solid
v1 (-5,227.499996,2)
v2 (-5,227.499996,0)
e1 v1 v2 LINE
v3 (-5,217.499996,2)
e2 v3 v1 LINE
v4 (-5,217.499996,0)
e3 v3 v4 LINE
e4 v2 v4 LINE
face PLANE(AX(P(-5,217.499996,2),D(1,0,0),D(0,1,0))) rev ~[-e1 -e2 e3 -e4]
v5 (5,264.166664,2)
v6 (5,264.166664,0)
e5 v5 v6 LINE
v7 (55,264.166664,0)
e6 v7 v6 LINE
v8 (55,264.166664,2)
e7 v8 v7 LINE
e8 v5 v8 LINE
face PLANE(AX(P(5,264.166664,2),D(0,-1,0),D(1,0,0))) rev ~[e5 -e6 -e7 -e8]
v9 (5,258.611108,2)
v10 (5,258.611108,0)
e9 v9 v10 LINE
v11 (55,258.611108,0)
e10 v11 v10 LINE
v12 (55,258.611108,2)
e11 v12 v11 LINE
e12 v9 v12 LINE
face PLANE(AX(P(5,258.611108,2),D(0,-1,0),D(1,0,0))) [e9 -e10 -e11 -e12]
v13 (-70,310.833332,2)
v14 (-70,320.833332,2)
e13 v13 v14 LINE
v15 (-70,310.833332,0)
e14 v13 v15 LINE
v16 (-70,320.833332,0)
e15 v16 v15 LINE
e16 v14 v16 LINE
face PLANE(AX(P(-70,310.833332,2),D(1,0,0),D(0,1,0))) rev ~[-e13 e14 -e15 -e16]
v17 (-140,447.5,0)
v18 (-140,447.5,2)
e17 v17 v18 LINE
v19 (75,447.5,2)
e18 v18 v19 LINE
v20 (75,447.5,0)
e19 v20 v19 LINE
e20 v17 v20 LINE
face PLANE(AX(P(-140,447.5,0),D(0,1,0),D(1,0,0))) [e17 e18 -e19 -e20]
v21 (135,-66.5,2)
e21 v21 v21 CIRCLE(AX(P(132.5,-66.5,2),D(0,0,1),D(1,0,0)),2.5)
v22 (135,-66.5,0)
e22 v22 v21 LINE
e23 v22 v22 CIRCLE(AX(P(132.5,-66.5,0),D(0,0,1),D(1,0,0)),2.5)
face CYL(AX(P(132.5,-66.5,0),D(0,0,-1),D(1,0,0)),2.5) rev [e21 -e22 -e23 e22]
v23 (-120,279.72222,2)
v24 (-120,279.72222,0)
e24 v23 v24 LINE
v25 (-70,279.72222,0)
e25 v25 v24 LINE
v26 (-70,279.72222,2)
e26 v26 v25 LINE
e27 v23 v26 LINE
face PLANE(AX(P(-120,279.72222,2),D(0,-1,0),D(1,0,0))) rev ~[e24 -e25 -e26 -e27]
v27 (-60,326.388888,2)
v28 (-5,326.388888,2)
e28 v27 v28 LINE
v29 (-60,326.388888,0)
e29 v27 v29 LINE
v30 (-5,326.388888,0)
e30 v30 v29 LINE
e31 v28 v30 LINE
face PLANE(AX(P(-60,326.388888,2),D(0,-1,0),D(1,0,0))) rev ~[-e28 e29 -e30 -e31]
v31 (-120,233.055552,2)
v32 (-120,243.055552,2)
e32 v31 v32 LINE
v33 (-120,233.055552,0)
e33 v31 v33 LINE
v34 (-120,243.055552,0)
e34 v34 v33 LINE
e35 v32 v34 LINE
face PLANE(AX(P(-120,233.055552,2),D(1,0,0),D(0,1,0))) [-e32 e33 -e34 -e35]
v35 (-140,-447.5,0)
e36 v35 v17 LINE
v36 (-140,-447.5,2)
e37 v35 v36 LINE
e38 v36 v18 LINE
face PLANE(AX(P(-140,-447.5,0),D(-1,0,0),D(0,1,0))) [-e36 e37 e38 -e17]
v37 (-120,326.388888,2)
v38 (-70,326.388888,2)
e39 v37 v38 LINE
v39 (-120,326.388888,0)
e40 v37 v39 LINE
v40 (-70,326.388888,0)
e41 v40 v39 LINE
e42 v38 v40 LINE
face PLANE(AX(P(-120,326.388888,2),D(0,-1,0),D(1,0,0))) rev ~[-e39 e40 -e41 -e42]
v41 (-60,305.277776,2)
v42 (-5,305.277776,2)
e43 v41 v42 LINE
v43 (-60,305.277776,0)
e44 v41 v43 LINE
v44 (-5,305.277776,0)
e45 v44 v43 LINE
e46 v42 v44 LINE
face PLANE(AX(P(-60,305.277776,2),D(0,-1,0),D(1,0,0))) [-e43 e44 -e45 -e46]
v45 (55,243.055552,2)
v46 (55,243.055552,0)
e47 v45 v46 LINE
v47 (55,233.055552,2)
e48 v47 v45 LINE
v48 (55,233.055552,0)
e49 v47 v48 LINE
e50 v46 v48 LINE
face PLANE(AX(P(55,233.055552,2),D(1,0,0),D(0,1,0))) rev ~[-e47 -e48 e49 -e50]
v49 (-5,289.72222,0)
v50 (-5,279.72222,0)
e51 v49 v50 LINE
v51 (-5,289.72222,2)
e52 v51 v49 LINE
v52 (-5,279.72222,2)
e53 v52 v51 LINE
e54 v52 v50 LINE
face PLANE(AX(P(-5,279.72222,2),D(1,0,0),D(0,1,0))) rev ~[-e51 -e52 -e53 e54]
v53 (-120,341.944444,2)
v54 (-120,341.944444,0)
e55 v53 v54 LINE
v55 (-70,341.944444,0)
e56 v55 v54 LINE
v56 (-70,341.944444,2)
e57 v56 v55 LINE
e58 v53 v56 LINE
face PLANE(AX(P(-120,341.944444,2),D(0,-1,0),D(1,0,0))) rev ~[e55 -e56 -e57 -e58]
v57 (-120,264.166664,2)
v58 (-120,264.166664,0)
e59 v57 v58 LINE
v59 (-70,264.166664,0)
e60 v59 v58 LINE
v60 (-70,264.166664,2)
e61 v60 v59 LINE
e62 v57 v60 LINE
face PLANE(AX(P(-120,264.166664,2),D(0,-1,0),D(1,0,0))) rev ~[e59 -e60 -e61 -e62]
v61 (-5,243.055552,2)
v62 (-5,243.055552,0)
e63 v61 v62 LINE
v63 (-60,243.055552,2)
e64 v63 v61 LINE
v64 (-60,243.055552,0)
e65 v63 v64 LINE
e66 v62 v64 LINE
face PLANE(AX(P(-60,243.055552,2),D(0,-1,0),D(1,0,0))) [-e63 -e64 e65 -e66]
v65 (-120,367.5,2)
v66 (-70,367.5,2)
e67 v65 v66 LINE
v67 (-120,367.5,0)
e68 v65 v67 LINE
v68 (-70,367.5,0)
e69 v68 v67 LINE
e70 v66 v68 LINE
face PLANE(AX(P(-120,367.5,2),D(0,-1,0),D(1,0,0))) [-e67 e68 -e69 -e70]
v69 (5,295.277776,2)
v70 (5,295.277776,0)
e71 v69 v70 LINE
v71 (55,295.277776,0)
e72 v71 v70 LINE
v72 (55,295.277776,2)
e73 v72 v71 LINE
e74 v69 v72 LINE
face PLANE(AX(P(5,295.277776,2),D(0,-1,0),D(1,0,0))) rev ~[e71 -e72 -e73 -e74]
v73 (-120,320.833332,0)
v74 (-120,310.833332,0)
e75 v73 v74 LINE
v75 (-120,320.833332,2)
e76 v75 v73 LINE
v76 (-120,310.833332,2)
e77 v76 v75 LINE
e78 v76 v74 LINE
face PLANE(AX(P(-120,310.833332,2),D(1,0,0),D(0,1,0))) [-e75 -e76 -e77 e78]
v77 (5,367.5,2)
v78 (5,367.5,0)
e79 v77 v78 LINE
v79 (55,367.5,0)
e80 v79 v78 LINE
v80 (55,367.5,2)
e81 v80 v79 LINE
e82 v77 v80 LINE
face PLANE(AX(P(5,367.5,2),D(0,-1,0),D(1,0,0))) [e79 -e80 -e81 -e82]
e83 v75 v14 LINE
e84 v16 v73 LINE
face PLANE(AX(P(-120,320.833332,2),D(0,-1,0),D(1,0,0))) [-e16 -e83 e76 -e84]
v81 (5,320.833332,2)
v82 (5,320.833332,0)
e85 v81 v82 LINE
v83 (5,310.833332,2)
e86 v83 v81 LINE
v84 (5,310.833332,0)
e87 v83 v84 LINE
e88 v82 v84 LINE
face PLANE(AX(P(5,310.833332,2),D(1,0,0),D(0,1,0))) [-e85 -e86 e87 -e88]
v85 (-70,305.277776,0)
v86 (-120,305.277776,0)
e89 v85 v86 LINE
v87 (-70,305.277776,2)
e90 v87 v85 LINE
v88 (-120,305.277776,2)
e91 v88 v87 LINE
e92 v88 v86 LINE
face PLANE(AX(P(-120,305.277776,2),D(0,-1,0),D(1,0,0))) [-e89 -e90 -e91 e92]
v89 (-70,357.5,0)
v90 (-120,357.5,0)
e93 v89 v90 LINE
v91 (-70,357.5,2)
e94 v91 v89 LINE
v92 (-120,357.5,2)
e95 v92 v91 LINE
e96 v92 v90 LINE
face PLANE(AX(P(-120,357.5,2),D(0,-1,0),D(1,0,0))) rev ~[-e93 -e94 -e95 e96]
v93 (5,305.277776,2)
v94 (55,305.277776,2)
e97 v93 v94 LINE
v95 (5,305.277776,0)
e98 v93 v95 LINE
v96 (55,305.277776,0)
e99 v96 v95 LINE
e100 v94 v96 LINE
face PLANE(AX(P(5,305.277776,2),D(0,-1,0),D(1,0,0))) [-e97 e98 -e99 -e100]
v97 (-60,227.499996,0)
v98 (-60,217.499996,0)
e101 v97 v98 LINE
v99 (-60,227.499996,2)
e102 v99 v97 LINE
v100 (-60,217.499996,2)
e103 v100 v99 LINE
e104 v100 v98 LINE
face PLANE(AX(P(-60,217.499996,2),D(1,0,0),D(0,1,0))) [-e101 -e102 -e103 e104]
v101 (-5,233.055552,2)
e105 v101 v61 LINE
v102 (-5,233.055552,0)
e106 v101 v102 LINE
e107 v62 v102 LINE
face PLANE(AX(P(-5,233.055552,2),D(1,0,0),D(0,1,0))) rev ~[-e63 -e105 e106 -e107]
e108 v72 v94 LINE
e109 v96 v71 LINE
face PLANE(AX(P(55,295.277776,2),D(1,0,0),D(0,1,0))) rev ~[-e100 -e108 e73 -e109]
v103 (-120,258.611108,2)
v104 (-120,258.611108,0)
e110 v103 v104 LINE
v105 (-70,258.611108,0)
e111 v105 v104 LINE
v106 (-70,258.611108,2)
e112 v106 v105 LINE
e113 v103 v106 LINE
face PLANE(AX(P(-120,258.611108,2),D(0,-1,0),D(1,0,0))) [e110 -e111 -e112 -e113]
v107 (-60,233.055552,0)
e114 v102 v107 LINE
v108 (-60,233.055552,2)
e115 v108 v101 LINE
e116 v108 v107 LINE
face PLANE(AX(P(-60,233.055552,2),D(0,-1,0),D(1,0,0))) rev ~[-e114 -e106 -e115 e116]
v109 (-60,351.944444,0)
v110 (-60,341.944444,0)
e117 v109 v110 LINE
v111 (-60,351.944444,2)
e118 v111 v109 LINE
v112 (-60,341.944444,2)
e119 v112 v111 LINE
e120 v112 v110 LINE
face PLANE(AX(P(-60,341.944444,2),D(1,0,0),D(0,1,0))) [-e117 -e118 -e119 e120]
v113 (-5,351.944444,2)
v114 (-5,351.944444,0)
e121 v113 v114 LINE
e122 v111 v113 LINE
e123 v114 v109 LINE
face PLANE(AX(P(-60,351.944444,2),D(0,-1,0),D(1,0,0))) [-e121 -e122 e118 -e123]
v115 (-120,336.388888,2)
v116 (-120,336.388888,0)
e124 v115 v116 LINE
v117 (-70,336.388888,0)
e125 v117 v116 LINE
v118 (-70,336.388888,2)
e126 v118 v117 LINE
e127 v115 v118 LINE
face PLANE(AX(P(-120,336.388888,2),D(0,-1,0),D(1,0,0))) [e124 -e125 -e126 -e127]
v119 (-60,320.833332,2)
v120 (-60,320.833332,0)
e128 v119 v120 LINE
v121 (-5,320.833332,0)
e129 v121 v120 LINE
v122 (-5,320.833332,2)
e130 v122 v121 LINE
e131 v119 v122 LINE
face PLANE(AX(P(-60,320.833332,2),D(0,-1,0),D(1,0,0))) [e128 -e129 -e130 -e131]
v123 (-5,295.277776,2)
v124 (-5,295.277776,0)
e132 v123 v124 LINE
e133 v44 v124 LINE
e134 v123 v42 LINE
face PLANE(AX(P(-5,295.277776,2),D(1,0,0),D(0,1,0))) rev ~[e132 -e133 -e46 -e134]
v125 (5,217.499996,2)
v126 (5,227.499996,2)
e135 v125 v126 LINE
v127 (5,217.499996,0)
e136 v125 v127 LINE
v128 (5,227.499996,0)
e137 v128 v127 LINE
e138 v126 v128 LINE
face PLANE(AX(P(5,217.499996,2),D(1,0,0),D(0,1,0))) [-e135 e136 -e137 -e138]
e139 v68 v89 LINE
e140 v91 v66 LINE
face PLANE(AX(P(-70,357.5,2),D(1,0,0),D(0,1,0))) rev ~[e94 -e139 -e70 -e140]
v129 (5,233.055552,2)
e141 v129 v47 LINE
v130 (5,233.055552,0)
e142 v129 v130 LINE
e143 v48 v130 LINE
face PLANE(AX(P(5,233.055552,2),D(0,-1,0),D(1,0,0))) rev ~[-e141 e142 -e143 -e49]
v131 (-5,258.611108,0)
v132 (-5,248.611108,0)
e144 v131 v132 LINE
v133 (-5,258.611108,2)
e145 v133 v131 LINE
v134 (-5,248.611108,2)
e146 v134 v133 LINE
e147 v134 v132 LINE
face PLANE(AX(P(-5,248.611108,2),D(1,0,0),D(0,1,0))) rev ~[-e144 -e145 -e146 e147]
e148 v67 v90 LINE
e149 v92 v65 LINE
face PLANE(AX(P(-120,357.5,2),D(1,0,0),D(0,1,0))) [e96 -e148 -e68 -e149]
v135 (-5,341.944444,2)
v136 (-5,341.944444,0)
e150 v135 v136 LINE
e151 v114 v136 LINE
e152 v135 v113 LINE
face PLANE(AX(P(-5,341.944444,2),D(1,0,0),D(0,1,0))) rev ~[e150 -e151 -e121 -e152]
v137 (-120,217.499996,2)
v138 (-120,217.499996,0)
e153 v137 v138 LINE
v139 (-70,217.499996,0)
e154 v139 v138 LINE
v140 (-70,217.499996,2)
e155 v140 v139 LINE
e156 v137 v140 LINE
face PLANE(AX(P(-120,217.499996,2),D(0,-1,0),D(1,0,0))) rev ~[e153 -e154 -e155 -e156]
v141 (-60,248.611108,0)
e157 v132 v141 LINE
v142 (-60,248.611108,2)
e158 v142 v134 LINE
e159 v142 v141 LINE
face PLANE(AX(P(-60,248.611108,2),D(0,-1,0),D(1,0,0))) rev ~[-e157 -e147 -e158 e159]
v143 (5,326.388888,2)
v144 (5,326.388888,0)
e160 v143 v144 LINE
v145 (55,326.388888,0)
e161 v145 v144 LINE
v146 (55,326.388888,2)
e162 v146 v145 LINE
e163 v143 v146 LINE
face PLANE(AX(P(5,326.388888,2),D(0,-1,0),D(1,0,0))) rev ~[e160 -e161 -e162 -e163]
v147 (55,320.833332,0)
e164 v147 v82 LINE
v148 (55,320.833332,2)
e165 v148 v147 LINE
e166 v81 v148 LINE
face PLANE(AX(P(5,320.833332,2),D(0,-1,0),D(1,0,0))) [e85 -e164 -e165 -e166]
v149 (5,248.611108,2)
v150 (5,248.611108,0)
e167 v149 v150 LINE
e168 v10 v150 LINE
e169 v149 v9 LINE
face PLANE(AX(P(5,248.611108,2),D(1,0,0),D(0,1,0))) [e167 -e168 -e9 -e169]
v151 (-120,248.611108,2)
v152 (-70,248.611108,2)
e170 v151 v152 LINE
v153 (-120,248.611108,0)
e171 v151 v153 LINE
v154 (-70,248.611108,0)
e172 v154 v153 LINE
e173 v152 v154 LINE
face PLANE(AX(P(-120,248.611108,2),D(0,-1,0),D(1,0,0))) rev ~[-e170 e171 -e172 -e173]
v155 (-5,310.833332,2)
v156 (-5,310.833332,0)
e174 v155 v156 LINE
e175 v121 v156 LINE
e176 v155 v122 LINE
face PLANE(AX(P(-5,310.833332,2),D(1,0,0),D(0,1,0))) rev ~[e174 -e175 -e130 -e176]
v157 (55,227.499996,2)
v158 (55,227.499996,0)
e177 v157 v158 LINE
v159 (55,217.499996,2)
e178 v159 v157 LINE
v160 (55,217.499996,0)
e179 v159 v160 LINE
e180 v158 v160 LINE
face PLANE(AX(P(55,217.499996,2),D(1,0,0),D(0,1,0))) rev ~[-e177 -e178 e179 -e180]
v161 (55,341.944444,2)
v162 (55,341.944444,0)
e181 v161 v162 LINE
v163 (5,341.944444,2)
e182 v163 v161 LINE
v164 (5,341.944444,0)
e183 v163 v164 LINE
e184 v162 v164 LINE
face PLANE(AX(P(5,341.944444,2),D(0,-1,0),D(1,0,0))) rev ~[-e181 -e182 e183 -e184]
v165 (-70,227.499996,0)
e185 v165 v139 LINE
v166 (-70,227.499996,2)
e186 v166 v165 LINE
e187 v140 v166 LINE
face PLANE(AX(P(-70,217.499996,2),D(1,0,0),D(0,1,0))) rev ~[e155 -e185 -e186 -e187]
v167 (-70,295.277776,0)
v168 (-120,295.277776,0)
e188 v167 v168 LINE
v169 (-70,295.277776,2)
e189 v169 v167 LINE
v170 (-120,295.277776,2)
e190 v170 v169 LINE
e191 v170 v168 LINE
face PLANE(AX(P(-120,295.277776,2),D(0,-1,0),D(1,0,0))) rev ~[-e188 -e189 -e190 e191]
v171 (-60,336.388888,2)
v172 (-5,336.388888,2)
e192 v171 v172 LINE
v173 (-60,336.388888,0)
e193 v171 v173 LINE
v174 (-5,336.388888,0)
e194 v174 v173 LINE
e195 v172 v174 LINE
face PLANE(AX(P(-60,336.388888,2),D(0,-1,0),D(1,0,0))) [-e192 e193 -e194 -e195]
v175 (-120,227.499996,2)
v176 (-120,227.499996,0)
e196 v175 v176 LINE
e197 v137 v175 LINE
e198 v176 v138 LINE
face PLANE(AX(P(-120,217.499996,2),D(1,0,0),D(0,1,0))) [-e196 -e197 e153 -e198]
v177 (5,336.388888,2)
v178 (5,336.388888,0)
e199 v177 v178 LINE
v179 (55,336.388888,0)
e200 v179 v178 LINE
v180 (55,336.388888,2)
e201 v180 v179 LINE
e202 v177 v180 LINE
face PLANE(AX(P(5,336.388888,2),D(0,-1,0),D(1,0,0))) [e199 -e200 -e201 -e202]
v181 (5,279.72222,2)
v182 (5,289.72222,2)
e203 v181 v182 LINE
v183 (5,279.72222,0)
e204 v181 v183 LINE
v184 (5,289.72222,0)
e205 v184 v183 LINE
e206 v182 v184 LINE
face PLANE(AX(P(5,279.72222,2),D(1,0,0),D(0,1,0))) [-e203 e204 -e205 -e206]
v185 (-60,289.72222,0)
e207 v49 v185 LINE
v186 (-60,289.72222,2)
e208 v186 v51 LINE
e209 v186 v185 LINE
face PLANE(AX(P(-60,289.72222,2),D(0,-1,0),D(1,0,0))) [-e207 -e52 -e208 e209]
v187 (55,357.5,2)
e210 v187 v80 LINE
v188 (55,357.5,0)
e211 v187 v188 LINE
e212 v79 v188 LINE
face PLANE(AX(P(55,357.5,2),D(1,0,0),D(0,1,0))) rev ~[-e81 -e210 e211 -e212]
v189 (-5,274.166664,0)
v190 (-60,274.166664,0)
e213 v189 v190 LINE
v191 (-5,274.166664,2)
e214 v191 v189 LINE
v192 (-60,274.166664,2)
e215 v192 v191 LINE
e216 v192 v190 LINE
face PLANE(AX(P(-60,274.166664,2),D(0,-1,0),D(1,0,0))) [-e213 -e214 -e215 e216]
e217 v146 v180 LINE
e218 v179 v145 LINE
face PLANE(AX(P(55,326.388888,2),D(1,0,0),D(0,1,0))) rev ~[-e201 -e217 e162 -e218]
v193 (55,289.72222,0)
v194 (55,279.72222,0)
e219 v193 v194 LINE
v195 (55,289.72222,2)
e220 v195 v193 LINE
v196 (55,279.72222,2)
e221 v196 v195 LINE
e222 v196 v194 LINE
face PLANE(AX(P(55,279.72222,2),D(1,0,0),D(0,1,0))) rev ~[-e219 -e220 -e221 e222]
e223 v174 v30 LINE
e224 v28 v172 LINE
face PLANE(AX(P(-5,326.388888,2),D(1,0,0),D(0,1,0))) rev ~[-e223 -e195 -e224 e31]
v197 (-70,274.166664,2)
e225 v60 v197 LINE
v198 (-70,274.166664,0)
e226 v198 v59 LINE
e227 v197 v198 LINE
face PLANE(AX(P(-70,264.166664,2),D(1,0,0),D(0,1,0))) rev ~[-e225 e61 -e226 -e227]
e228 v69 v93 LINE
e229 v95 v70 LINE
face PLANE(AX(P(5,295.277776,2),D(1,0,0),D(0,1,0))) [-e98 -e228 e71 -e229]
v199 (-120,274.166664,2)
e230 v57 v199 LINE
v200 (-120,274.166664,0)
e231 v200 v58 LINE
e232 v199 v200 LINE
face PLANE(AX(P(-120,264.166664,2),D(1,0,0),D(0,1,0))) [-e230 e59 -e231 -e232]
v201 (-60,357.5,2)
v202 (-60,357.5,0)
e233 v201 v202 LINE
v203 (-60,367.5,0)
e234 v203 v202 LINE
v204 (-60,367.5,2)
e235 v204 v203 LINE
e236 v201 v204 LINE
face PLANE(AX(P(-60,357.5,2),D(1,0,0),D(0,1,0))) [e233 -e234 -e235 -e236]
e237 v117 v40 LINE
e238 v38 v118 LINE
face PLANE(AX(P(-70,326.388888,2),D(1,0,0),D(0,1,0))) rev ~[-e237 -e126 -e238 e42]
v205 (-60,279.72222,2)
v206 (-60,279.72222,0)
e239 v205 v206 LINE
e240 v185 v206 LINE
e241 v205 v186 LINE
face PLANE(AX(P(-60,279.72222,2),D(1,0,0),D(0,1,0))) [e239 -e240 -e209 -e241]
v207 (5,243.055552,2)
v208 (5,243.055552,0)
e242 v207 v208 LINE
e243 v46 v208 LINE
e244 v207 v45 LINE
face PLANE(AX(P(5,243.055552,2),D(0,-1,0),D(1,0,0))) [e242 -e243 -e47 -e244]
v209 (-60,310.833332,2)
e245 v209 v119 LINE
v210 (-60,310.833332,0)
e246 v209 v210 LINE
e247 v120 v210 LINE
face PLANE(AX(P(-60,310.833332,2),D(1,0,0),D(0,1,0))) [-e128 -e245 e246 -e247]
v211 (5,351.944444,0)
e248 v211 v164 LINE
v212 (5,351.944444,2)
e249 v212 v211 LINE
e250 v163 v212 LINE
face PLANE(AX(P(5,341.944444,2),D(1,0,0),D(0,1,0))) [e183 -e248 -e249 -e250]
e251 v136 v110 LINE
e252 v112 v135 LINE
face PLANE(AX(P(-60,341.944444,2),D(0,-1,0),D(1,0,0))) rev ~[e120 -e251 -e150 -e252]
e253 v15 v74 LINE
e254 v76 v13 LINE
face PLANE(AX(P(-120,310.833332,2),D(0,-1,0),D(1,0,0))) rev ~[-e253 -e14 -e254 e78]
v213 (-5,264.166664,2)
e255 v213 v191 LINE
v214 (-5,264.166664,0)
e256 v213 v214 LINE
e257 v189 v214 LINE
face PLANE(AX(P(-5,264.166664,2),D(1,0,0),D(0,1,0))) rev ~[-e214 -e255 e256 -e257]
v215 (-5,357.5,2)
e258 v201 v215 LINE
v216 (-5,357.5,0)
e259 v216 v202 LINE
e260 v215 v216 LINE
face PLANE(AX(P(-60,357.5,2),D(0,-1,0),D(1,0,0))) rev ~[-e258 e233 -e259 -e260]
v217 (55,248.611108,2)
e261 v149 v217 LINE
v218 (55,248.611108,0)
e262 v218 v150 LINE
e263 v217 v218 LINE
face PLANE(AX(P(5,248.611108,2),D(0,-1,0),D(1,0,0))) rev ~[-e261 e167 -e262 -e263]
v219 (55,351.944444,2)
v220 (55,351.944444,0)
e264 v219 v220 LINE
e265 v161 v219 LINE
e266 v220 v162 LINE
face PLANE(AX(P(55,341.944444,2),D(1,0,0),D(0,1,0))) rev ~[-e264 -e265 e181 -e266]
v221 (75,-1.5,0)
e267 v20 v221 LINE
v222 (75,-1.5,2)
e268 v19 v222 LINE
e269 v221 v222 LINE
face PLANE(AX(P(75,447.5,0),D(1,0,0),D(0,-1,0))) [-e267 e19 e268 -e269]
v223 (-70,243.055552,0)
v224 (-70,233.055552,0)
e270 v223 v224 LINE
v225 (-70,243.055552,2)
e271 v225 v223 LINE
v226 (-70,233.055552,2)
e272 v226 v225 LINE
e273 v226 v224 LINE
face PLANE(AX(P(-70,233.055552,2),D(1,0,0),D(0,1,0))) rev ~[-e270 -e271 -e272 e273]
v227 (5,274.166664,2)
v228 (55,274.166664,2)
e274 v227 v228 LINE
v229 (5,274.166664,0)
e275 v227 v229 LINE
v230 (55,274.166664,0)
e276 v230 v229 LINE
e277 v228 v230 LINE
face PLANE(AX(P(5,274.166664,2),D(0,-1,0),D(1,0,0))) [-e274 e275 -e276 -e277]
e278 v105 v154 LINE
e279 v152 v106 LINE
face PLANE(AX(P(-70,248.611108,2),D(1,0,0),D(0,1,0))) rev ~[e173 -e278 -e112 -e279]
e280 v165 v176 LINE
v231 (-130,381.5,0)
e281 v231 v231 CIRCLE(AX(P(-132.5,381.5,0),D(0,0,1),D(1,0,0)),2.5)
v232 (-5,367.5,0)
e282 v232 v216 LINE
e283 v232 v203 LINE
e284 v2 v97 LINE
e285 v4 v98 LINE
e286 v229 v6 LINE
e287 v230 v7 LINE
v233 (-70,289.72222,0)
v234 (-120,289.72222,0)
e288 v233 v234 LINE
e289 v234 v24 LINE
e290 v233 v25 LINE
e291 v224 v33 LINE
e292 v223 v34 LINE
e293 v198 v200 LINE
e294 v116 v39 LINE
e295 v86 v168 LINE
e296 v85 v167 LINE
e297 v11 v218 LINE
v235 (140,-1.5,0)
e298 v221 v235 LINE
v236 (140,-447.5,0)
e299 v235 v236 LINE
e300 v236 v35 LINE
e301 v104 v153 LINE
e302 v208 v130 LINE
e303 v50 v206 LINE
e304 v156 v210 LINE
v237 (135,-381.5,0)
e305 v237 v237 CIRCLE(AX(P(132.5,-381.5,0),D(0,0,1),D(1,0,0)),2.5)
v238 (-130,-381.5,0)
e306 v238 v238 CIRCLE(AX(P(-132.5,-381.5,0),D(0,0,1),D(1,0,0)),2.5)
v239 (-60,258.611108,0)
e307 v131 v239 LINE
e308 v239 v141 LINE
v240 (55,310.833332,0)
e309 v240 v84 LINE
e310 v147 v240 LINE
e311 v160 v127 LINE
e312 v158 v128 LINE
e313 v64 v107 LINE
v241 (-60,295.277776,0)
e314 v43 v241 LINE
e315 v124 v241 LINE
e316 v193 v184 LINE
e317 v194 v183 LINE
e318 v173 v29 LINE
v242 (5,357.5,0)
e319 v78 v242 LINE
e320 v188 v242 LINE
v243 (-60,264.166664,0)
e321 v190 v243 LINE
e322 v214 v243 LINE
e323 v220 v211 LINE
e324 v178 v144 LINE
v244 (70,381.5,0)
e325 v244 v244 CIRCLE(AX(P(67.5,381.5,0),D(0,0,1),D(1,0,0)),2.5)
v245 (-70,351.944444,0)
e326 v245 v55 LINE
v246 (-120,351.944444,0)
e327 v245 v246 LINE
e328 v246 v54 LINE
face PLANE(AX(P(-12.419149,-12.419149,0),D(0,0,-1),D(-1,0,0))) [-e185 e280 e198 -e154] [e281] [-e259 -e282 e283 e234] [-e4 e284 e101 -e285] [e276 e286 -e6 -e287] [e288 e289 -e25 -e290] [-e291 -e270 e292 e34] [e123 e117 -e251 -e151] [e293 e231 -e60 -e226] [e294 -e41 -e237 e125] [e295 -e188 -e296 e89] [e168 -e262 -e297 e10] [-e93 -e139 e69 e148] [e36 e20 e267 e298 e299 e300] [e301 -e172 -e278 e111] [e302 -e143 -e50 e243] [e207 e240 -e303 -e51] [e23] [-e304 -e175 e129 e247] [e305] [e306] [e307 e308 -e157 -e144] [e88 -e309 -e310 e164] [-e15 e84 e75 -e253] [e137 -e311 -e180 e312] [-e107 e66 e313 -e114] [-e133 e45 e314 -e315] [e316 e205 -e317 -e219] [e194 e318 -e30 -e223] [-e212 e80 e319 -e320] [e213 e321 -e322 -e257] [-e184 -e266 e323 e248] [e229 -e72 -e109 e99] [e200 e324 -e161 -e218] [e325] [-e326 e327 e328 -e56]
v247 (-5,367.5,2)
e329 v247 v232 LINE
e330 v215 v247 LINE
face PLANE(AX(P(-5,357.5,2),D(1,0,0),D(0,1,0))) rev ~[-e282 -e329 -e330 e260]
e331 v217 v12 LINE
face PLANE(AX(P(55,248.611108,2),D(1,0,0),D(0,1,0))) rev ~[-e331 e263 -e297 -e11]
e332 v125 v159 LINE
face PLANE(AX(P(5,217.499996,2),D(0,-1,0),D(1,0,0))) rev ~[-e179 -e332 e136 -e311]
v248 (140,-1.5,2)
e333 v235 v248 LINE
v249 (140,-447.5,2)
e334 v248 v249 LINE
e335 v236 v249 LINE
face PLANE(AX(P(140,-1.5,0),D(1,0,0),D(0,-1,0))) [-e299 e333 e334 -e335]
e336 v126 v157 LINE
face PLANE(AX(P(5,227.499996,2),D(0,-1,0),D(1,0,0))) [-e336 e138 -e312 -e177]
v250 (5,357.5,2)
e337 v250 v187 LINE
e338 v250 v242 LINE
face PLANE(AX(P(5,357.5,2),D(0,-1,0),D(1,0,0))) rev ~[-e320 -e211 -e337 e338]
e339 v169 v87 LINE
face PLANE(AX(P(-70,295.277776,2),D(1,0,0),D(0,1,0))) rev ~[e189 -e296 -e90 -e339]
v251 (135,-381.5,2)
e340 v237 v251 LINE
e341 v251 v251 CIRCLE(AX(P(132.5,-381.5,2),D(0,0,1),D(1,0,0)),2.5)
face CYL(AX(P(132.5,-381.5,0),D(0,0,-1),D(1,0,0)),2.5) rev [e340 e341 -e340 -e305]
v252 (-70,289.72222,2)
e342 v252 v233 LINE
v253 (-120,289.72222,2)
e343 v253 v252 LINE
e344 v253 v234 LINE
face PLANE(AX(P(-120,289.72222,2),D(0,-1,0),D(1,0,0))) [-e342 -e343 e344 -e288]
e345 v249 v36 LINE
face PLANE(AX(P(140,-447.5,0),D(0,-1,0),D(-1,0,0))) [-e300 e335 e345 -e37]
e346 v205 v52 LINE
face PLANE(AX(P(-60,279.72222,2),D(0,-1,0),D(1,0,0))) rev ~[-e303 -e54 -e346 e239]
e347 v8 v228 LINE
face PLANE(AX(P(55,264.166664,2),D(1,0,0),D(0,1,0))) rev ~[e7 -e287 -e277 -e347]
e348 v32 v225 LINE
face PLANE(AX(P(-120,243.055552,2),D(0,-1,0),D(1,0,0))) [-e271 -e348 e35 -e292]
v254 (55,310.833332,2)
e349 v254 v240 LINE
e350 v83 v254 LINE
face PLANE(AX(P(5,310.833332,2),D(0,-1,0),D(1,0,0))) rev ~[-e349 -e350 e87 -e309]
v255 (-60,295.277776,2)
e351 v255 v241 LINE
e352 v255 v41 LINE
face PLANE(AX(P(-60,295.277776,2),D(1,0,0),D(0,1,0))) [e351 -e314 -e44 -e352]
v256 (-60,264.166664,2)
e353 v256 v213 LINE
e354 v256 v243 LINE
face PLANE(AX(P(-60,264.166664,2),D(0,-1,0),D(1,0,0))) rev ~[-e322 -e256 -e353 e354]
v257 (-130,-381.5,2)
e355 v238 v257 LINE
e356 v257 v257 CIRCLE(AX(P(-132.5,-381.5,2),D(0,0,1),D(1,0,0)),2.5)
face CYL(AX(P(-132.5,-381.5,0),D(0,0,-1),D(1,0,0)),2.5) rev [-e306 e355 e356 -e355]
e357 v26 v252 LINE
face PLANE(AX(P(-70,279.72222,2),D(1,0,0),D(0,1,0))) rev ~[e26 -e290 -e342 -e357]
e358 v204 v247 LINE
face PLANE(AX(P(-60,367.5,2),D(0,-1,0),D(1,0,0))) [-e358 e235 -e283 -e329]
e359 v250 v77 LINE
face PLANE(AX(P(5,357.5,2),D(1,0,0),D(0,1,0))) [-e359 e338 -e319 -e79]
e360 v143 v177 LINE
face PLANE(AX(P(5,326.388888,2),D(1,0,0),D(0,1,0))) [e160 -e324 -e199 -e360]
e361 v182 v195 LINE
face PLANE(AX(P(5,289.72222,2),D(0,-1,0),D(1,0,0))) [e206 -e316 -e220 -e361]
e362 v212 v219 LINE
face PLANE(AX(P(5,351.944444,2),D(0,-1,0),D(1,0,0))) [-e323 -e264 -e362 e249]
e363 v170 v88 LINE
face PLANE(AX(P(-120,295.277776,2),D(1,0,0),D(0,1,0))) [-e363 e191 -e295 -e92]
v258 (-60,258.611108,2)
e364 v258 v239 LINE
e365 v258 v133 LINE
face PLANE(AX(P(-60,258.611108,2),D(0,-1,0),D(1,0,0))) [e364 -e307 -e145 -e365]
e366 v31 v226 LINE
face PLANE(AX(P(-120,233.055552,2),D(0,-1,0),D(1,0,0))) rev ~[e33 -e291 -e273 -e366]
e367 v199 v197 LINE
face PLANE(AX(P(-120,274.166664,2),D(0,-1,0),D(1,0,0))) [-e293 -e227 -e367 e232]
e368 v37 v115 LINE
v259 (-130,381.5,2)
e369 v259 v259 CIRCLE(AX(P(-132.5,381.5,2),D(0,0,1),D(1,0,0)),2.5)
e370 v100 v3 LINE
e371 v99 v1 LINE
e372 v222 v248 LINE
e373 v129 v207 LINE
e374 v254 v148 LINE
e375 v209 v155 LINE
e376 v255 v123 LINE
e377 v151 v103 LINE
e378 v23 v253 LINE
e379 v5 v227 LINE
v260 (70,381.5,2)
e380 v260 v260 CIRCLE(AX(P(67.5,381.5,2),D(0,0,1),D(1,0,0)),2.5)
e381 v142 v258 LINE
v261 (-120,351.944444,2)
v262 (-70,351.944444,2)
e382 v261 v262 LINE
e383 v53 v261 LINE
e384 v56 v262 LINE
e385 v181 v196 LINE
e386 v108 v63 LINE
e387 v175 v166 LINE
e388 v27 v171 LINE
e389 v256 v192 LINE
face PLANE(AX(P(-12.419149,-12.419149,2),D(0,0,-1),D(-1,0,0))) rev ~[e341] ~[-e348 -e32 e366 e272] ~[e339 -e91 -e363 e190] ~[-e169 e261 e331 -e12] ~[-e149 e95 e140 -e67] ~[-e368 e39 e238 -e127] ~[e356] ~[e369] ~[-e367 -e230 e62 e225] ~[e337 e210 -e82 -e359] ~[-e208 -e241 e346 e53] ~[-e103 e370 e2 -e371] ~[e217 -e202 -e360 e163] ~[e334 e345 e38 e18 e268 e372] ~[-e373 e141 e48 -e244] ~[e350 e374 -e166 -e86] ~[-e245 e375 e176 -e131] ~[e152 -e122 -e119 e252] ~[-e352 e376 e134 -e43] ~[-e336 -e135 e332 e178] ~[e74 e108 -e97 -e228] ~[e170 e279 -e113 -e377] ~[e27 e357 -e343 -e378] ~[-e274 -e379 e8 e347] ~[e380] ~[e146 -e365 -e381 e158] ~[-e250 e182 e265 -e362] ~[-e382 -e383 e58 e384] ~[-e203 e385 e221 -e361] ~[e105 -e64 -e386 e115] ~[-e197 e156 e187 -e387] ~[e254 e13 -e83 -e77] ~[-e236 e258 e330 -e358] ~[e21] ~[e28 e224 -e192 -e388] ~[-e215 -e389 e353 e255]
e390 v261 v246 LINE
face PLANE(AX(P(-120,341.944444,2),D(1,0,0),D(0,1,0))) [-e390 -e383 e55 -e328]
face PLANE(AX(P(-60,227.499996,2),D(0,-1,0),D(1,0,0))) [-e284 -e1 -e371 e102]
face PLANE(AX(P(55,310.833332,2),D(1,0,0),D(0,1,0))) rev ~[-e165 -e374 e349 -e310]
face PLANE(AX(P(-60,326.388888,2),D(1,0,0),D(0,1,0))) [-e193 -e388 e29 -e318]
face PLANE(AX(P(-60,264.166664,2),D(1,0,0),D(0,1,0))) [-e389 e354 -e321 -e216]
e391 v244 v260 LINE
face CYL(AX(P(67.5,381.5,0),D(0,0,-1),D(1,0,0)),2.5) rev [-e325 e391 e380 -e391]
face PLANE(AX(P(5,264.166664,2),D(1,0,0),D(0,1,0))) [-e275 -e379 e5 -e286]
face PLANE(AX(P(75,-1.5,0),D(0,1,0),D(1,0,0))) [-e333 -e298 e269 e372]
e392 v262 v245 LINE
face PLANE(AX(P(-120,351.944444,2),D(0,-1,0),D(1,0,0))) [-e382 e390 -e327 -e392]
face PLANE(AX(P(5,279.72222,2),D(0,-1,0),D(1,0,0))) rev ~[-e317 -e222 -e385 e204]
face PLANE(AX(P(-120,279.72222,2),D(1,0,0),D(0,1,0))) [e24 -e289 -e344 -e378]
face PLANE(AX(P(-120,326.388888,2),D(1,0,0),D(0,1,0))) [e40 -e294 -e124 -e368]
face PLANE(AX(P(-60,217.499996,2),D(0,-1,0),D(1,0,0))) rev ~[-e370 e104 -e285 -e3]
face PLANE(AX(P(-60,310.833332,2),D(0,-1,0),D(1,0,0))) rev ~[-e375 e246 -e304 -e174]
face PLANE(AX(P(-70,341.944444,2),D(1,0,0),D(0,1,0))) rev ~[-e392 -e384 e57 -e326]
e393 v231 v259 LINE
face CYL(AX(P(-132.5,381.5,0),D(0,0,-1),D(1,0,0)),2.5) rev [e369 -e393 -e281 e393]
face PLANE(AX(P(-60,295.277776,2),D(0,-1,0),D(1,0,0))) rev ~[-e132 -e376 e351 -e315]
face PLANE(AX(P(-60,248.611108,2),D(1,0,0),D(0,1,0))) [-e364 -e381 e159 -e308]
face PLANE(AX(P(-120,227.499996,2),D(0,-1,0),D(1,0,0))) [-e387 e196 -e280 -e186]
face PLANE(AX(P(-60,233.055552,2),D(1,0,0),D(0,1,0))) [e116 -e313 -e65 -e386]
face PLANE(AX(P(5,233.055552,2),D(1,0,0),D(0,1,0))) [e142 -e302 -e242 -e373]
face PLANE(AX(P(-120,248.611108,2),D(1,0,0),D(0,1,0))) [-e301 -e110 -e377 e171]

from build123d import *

# Parameters (mm, degrees)
SKETCH_R            = 2.5
PAD_DEPTH           = 2
SKETCH001_W         = 50
SKETCH001_H         = 10
SKETCH001_W_2       = 55
POCKET_DEPTH        = 5
LINEARPATTERN_COUNT = 10
LINEARPATTERN_PITCH = 15.555556


with BuildPart() as part:
    # Sketch → Pad (new body)
    with BuildSketch(Plane.XY):
        Polygon((-140, 447.5), (75, 447.5), (75, -1.5), (140, -1.5), (140, -447.5), (-140, -447.5), align=None)
        with Locations((-132.5, 381.5)):
            Circle(SKETCH_R, mode=Mode.SUBTRACT)
        with Locations((67.5, 381.5)):
            Circle(SKETCH_R, mode=Mode.SUBTRACT)
        with Locations((132.5, -66.5)):
            Circle(SKETCH_R, mode=Mode.SUBTRACT)
        with Locations((132.5, -381.5)):
            Circle(SKETCH_R, mode=Mode.SUBTRACT)
        with Locations((-132.5, -381.5)):
            Circle(SKETCH_R, mode=Mode.SUBTRACT)
    extrude(amount=PAD_DEPTH)

    # Sketch001 → Pocket (cut)
    with BuildSketch(Plane.XY.offset(2)):
        with Locations((-95, 362.5)):
            Rectangle(SKETCH001_W, SKETCH001_H)
        with Locations((30, 362.5)):
            Rectangle(SKETCH001_W, SKETCH001_H)
        with Locations((-32.5, 362.5)):
            Rectangle(SKETCH001_W_2, SKETCH001_H)
    pocket = extrude(amount=-POCKET_DEPTH, mode=Mode.SUBTRACT)

    # LinearPattern: Pocket ×10
    with Locations(*[(0, -i * LINEARPATTERN_PITCH, 0) for i in range(1, LINEARPATTERN_COUNT)]):
        add(pocket, mode=Mode.SUBTRACT)


solid = part.part
